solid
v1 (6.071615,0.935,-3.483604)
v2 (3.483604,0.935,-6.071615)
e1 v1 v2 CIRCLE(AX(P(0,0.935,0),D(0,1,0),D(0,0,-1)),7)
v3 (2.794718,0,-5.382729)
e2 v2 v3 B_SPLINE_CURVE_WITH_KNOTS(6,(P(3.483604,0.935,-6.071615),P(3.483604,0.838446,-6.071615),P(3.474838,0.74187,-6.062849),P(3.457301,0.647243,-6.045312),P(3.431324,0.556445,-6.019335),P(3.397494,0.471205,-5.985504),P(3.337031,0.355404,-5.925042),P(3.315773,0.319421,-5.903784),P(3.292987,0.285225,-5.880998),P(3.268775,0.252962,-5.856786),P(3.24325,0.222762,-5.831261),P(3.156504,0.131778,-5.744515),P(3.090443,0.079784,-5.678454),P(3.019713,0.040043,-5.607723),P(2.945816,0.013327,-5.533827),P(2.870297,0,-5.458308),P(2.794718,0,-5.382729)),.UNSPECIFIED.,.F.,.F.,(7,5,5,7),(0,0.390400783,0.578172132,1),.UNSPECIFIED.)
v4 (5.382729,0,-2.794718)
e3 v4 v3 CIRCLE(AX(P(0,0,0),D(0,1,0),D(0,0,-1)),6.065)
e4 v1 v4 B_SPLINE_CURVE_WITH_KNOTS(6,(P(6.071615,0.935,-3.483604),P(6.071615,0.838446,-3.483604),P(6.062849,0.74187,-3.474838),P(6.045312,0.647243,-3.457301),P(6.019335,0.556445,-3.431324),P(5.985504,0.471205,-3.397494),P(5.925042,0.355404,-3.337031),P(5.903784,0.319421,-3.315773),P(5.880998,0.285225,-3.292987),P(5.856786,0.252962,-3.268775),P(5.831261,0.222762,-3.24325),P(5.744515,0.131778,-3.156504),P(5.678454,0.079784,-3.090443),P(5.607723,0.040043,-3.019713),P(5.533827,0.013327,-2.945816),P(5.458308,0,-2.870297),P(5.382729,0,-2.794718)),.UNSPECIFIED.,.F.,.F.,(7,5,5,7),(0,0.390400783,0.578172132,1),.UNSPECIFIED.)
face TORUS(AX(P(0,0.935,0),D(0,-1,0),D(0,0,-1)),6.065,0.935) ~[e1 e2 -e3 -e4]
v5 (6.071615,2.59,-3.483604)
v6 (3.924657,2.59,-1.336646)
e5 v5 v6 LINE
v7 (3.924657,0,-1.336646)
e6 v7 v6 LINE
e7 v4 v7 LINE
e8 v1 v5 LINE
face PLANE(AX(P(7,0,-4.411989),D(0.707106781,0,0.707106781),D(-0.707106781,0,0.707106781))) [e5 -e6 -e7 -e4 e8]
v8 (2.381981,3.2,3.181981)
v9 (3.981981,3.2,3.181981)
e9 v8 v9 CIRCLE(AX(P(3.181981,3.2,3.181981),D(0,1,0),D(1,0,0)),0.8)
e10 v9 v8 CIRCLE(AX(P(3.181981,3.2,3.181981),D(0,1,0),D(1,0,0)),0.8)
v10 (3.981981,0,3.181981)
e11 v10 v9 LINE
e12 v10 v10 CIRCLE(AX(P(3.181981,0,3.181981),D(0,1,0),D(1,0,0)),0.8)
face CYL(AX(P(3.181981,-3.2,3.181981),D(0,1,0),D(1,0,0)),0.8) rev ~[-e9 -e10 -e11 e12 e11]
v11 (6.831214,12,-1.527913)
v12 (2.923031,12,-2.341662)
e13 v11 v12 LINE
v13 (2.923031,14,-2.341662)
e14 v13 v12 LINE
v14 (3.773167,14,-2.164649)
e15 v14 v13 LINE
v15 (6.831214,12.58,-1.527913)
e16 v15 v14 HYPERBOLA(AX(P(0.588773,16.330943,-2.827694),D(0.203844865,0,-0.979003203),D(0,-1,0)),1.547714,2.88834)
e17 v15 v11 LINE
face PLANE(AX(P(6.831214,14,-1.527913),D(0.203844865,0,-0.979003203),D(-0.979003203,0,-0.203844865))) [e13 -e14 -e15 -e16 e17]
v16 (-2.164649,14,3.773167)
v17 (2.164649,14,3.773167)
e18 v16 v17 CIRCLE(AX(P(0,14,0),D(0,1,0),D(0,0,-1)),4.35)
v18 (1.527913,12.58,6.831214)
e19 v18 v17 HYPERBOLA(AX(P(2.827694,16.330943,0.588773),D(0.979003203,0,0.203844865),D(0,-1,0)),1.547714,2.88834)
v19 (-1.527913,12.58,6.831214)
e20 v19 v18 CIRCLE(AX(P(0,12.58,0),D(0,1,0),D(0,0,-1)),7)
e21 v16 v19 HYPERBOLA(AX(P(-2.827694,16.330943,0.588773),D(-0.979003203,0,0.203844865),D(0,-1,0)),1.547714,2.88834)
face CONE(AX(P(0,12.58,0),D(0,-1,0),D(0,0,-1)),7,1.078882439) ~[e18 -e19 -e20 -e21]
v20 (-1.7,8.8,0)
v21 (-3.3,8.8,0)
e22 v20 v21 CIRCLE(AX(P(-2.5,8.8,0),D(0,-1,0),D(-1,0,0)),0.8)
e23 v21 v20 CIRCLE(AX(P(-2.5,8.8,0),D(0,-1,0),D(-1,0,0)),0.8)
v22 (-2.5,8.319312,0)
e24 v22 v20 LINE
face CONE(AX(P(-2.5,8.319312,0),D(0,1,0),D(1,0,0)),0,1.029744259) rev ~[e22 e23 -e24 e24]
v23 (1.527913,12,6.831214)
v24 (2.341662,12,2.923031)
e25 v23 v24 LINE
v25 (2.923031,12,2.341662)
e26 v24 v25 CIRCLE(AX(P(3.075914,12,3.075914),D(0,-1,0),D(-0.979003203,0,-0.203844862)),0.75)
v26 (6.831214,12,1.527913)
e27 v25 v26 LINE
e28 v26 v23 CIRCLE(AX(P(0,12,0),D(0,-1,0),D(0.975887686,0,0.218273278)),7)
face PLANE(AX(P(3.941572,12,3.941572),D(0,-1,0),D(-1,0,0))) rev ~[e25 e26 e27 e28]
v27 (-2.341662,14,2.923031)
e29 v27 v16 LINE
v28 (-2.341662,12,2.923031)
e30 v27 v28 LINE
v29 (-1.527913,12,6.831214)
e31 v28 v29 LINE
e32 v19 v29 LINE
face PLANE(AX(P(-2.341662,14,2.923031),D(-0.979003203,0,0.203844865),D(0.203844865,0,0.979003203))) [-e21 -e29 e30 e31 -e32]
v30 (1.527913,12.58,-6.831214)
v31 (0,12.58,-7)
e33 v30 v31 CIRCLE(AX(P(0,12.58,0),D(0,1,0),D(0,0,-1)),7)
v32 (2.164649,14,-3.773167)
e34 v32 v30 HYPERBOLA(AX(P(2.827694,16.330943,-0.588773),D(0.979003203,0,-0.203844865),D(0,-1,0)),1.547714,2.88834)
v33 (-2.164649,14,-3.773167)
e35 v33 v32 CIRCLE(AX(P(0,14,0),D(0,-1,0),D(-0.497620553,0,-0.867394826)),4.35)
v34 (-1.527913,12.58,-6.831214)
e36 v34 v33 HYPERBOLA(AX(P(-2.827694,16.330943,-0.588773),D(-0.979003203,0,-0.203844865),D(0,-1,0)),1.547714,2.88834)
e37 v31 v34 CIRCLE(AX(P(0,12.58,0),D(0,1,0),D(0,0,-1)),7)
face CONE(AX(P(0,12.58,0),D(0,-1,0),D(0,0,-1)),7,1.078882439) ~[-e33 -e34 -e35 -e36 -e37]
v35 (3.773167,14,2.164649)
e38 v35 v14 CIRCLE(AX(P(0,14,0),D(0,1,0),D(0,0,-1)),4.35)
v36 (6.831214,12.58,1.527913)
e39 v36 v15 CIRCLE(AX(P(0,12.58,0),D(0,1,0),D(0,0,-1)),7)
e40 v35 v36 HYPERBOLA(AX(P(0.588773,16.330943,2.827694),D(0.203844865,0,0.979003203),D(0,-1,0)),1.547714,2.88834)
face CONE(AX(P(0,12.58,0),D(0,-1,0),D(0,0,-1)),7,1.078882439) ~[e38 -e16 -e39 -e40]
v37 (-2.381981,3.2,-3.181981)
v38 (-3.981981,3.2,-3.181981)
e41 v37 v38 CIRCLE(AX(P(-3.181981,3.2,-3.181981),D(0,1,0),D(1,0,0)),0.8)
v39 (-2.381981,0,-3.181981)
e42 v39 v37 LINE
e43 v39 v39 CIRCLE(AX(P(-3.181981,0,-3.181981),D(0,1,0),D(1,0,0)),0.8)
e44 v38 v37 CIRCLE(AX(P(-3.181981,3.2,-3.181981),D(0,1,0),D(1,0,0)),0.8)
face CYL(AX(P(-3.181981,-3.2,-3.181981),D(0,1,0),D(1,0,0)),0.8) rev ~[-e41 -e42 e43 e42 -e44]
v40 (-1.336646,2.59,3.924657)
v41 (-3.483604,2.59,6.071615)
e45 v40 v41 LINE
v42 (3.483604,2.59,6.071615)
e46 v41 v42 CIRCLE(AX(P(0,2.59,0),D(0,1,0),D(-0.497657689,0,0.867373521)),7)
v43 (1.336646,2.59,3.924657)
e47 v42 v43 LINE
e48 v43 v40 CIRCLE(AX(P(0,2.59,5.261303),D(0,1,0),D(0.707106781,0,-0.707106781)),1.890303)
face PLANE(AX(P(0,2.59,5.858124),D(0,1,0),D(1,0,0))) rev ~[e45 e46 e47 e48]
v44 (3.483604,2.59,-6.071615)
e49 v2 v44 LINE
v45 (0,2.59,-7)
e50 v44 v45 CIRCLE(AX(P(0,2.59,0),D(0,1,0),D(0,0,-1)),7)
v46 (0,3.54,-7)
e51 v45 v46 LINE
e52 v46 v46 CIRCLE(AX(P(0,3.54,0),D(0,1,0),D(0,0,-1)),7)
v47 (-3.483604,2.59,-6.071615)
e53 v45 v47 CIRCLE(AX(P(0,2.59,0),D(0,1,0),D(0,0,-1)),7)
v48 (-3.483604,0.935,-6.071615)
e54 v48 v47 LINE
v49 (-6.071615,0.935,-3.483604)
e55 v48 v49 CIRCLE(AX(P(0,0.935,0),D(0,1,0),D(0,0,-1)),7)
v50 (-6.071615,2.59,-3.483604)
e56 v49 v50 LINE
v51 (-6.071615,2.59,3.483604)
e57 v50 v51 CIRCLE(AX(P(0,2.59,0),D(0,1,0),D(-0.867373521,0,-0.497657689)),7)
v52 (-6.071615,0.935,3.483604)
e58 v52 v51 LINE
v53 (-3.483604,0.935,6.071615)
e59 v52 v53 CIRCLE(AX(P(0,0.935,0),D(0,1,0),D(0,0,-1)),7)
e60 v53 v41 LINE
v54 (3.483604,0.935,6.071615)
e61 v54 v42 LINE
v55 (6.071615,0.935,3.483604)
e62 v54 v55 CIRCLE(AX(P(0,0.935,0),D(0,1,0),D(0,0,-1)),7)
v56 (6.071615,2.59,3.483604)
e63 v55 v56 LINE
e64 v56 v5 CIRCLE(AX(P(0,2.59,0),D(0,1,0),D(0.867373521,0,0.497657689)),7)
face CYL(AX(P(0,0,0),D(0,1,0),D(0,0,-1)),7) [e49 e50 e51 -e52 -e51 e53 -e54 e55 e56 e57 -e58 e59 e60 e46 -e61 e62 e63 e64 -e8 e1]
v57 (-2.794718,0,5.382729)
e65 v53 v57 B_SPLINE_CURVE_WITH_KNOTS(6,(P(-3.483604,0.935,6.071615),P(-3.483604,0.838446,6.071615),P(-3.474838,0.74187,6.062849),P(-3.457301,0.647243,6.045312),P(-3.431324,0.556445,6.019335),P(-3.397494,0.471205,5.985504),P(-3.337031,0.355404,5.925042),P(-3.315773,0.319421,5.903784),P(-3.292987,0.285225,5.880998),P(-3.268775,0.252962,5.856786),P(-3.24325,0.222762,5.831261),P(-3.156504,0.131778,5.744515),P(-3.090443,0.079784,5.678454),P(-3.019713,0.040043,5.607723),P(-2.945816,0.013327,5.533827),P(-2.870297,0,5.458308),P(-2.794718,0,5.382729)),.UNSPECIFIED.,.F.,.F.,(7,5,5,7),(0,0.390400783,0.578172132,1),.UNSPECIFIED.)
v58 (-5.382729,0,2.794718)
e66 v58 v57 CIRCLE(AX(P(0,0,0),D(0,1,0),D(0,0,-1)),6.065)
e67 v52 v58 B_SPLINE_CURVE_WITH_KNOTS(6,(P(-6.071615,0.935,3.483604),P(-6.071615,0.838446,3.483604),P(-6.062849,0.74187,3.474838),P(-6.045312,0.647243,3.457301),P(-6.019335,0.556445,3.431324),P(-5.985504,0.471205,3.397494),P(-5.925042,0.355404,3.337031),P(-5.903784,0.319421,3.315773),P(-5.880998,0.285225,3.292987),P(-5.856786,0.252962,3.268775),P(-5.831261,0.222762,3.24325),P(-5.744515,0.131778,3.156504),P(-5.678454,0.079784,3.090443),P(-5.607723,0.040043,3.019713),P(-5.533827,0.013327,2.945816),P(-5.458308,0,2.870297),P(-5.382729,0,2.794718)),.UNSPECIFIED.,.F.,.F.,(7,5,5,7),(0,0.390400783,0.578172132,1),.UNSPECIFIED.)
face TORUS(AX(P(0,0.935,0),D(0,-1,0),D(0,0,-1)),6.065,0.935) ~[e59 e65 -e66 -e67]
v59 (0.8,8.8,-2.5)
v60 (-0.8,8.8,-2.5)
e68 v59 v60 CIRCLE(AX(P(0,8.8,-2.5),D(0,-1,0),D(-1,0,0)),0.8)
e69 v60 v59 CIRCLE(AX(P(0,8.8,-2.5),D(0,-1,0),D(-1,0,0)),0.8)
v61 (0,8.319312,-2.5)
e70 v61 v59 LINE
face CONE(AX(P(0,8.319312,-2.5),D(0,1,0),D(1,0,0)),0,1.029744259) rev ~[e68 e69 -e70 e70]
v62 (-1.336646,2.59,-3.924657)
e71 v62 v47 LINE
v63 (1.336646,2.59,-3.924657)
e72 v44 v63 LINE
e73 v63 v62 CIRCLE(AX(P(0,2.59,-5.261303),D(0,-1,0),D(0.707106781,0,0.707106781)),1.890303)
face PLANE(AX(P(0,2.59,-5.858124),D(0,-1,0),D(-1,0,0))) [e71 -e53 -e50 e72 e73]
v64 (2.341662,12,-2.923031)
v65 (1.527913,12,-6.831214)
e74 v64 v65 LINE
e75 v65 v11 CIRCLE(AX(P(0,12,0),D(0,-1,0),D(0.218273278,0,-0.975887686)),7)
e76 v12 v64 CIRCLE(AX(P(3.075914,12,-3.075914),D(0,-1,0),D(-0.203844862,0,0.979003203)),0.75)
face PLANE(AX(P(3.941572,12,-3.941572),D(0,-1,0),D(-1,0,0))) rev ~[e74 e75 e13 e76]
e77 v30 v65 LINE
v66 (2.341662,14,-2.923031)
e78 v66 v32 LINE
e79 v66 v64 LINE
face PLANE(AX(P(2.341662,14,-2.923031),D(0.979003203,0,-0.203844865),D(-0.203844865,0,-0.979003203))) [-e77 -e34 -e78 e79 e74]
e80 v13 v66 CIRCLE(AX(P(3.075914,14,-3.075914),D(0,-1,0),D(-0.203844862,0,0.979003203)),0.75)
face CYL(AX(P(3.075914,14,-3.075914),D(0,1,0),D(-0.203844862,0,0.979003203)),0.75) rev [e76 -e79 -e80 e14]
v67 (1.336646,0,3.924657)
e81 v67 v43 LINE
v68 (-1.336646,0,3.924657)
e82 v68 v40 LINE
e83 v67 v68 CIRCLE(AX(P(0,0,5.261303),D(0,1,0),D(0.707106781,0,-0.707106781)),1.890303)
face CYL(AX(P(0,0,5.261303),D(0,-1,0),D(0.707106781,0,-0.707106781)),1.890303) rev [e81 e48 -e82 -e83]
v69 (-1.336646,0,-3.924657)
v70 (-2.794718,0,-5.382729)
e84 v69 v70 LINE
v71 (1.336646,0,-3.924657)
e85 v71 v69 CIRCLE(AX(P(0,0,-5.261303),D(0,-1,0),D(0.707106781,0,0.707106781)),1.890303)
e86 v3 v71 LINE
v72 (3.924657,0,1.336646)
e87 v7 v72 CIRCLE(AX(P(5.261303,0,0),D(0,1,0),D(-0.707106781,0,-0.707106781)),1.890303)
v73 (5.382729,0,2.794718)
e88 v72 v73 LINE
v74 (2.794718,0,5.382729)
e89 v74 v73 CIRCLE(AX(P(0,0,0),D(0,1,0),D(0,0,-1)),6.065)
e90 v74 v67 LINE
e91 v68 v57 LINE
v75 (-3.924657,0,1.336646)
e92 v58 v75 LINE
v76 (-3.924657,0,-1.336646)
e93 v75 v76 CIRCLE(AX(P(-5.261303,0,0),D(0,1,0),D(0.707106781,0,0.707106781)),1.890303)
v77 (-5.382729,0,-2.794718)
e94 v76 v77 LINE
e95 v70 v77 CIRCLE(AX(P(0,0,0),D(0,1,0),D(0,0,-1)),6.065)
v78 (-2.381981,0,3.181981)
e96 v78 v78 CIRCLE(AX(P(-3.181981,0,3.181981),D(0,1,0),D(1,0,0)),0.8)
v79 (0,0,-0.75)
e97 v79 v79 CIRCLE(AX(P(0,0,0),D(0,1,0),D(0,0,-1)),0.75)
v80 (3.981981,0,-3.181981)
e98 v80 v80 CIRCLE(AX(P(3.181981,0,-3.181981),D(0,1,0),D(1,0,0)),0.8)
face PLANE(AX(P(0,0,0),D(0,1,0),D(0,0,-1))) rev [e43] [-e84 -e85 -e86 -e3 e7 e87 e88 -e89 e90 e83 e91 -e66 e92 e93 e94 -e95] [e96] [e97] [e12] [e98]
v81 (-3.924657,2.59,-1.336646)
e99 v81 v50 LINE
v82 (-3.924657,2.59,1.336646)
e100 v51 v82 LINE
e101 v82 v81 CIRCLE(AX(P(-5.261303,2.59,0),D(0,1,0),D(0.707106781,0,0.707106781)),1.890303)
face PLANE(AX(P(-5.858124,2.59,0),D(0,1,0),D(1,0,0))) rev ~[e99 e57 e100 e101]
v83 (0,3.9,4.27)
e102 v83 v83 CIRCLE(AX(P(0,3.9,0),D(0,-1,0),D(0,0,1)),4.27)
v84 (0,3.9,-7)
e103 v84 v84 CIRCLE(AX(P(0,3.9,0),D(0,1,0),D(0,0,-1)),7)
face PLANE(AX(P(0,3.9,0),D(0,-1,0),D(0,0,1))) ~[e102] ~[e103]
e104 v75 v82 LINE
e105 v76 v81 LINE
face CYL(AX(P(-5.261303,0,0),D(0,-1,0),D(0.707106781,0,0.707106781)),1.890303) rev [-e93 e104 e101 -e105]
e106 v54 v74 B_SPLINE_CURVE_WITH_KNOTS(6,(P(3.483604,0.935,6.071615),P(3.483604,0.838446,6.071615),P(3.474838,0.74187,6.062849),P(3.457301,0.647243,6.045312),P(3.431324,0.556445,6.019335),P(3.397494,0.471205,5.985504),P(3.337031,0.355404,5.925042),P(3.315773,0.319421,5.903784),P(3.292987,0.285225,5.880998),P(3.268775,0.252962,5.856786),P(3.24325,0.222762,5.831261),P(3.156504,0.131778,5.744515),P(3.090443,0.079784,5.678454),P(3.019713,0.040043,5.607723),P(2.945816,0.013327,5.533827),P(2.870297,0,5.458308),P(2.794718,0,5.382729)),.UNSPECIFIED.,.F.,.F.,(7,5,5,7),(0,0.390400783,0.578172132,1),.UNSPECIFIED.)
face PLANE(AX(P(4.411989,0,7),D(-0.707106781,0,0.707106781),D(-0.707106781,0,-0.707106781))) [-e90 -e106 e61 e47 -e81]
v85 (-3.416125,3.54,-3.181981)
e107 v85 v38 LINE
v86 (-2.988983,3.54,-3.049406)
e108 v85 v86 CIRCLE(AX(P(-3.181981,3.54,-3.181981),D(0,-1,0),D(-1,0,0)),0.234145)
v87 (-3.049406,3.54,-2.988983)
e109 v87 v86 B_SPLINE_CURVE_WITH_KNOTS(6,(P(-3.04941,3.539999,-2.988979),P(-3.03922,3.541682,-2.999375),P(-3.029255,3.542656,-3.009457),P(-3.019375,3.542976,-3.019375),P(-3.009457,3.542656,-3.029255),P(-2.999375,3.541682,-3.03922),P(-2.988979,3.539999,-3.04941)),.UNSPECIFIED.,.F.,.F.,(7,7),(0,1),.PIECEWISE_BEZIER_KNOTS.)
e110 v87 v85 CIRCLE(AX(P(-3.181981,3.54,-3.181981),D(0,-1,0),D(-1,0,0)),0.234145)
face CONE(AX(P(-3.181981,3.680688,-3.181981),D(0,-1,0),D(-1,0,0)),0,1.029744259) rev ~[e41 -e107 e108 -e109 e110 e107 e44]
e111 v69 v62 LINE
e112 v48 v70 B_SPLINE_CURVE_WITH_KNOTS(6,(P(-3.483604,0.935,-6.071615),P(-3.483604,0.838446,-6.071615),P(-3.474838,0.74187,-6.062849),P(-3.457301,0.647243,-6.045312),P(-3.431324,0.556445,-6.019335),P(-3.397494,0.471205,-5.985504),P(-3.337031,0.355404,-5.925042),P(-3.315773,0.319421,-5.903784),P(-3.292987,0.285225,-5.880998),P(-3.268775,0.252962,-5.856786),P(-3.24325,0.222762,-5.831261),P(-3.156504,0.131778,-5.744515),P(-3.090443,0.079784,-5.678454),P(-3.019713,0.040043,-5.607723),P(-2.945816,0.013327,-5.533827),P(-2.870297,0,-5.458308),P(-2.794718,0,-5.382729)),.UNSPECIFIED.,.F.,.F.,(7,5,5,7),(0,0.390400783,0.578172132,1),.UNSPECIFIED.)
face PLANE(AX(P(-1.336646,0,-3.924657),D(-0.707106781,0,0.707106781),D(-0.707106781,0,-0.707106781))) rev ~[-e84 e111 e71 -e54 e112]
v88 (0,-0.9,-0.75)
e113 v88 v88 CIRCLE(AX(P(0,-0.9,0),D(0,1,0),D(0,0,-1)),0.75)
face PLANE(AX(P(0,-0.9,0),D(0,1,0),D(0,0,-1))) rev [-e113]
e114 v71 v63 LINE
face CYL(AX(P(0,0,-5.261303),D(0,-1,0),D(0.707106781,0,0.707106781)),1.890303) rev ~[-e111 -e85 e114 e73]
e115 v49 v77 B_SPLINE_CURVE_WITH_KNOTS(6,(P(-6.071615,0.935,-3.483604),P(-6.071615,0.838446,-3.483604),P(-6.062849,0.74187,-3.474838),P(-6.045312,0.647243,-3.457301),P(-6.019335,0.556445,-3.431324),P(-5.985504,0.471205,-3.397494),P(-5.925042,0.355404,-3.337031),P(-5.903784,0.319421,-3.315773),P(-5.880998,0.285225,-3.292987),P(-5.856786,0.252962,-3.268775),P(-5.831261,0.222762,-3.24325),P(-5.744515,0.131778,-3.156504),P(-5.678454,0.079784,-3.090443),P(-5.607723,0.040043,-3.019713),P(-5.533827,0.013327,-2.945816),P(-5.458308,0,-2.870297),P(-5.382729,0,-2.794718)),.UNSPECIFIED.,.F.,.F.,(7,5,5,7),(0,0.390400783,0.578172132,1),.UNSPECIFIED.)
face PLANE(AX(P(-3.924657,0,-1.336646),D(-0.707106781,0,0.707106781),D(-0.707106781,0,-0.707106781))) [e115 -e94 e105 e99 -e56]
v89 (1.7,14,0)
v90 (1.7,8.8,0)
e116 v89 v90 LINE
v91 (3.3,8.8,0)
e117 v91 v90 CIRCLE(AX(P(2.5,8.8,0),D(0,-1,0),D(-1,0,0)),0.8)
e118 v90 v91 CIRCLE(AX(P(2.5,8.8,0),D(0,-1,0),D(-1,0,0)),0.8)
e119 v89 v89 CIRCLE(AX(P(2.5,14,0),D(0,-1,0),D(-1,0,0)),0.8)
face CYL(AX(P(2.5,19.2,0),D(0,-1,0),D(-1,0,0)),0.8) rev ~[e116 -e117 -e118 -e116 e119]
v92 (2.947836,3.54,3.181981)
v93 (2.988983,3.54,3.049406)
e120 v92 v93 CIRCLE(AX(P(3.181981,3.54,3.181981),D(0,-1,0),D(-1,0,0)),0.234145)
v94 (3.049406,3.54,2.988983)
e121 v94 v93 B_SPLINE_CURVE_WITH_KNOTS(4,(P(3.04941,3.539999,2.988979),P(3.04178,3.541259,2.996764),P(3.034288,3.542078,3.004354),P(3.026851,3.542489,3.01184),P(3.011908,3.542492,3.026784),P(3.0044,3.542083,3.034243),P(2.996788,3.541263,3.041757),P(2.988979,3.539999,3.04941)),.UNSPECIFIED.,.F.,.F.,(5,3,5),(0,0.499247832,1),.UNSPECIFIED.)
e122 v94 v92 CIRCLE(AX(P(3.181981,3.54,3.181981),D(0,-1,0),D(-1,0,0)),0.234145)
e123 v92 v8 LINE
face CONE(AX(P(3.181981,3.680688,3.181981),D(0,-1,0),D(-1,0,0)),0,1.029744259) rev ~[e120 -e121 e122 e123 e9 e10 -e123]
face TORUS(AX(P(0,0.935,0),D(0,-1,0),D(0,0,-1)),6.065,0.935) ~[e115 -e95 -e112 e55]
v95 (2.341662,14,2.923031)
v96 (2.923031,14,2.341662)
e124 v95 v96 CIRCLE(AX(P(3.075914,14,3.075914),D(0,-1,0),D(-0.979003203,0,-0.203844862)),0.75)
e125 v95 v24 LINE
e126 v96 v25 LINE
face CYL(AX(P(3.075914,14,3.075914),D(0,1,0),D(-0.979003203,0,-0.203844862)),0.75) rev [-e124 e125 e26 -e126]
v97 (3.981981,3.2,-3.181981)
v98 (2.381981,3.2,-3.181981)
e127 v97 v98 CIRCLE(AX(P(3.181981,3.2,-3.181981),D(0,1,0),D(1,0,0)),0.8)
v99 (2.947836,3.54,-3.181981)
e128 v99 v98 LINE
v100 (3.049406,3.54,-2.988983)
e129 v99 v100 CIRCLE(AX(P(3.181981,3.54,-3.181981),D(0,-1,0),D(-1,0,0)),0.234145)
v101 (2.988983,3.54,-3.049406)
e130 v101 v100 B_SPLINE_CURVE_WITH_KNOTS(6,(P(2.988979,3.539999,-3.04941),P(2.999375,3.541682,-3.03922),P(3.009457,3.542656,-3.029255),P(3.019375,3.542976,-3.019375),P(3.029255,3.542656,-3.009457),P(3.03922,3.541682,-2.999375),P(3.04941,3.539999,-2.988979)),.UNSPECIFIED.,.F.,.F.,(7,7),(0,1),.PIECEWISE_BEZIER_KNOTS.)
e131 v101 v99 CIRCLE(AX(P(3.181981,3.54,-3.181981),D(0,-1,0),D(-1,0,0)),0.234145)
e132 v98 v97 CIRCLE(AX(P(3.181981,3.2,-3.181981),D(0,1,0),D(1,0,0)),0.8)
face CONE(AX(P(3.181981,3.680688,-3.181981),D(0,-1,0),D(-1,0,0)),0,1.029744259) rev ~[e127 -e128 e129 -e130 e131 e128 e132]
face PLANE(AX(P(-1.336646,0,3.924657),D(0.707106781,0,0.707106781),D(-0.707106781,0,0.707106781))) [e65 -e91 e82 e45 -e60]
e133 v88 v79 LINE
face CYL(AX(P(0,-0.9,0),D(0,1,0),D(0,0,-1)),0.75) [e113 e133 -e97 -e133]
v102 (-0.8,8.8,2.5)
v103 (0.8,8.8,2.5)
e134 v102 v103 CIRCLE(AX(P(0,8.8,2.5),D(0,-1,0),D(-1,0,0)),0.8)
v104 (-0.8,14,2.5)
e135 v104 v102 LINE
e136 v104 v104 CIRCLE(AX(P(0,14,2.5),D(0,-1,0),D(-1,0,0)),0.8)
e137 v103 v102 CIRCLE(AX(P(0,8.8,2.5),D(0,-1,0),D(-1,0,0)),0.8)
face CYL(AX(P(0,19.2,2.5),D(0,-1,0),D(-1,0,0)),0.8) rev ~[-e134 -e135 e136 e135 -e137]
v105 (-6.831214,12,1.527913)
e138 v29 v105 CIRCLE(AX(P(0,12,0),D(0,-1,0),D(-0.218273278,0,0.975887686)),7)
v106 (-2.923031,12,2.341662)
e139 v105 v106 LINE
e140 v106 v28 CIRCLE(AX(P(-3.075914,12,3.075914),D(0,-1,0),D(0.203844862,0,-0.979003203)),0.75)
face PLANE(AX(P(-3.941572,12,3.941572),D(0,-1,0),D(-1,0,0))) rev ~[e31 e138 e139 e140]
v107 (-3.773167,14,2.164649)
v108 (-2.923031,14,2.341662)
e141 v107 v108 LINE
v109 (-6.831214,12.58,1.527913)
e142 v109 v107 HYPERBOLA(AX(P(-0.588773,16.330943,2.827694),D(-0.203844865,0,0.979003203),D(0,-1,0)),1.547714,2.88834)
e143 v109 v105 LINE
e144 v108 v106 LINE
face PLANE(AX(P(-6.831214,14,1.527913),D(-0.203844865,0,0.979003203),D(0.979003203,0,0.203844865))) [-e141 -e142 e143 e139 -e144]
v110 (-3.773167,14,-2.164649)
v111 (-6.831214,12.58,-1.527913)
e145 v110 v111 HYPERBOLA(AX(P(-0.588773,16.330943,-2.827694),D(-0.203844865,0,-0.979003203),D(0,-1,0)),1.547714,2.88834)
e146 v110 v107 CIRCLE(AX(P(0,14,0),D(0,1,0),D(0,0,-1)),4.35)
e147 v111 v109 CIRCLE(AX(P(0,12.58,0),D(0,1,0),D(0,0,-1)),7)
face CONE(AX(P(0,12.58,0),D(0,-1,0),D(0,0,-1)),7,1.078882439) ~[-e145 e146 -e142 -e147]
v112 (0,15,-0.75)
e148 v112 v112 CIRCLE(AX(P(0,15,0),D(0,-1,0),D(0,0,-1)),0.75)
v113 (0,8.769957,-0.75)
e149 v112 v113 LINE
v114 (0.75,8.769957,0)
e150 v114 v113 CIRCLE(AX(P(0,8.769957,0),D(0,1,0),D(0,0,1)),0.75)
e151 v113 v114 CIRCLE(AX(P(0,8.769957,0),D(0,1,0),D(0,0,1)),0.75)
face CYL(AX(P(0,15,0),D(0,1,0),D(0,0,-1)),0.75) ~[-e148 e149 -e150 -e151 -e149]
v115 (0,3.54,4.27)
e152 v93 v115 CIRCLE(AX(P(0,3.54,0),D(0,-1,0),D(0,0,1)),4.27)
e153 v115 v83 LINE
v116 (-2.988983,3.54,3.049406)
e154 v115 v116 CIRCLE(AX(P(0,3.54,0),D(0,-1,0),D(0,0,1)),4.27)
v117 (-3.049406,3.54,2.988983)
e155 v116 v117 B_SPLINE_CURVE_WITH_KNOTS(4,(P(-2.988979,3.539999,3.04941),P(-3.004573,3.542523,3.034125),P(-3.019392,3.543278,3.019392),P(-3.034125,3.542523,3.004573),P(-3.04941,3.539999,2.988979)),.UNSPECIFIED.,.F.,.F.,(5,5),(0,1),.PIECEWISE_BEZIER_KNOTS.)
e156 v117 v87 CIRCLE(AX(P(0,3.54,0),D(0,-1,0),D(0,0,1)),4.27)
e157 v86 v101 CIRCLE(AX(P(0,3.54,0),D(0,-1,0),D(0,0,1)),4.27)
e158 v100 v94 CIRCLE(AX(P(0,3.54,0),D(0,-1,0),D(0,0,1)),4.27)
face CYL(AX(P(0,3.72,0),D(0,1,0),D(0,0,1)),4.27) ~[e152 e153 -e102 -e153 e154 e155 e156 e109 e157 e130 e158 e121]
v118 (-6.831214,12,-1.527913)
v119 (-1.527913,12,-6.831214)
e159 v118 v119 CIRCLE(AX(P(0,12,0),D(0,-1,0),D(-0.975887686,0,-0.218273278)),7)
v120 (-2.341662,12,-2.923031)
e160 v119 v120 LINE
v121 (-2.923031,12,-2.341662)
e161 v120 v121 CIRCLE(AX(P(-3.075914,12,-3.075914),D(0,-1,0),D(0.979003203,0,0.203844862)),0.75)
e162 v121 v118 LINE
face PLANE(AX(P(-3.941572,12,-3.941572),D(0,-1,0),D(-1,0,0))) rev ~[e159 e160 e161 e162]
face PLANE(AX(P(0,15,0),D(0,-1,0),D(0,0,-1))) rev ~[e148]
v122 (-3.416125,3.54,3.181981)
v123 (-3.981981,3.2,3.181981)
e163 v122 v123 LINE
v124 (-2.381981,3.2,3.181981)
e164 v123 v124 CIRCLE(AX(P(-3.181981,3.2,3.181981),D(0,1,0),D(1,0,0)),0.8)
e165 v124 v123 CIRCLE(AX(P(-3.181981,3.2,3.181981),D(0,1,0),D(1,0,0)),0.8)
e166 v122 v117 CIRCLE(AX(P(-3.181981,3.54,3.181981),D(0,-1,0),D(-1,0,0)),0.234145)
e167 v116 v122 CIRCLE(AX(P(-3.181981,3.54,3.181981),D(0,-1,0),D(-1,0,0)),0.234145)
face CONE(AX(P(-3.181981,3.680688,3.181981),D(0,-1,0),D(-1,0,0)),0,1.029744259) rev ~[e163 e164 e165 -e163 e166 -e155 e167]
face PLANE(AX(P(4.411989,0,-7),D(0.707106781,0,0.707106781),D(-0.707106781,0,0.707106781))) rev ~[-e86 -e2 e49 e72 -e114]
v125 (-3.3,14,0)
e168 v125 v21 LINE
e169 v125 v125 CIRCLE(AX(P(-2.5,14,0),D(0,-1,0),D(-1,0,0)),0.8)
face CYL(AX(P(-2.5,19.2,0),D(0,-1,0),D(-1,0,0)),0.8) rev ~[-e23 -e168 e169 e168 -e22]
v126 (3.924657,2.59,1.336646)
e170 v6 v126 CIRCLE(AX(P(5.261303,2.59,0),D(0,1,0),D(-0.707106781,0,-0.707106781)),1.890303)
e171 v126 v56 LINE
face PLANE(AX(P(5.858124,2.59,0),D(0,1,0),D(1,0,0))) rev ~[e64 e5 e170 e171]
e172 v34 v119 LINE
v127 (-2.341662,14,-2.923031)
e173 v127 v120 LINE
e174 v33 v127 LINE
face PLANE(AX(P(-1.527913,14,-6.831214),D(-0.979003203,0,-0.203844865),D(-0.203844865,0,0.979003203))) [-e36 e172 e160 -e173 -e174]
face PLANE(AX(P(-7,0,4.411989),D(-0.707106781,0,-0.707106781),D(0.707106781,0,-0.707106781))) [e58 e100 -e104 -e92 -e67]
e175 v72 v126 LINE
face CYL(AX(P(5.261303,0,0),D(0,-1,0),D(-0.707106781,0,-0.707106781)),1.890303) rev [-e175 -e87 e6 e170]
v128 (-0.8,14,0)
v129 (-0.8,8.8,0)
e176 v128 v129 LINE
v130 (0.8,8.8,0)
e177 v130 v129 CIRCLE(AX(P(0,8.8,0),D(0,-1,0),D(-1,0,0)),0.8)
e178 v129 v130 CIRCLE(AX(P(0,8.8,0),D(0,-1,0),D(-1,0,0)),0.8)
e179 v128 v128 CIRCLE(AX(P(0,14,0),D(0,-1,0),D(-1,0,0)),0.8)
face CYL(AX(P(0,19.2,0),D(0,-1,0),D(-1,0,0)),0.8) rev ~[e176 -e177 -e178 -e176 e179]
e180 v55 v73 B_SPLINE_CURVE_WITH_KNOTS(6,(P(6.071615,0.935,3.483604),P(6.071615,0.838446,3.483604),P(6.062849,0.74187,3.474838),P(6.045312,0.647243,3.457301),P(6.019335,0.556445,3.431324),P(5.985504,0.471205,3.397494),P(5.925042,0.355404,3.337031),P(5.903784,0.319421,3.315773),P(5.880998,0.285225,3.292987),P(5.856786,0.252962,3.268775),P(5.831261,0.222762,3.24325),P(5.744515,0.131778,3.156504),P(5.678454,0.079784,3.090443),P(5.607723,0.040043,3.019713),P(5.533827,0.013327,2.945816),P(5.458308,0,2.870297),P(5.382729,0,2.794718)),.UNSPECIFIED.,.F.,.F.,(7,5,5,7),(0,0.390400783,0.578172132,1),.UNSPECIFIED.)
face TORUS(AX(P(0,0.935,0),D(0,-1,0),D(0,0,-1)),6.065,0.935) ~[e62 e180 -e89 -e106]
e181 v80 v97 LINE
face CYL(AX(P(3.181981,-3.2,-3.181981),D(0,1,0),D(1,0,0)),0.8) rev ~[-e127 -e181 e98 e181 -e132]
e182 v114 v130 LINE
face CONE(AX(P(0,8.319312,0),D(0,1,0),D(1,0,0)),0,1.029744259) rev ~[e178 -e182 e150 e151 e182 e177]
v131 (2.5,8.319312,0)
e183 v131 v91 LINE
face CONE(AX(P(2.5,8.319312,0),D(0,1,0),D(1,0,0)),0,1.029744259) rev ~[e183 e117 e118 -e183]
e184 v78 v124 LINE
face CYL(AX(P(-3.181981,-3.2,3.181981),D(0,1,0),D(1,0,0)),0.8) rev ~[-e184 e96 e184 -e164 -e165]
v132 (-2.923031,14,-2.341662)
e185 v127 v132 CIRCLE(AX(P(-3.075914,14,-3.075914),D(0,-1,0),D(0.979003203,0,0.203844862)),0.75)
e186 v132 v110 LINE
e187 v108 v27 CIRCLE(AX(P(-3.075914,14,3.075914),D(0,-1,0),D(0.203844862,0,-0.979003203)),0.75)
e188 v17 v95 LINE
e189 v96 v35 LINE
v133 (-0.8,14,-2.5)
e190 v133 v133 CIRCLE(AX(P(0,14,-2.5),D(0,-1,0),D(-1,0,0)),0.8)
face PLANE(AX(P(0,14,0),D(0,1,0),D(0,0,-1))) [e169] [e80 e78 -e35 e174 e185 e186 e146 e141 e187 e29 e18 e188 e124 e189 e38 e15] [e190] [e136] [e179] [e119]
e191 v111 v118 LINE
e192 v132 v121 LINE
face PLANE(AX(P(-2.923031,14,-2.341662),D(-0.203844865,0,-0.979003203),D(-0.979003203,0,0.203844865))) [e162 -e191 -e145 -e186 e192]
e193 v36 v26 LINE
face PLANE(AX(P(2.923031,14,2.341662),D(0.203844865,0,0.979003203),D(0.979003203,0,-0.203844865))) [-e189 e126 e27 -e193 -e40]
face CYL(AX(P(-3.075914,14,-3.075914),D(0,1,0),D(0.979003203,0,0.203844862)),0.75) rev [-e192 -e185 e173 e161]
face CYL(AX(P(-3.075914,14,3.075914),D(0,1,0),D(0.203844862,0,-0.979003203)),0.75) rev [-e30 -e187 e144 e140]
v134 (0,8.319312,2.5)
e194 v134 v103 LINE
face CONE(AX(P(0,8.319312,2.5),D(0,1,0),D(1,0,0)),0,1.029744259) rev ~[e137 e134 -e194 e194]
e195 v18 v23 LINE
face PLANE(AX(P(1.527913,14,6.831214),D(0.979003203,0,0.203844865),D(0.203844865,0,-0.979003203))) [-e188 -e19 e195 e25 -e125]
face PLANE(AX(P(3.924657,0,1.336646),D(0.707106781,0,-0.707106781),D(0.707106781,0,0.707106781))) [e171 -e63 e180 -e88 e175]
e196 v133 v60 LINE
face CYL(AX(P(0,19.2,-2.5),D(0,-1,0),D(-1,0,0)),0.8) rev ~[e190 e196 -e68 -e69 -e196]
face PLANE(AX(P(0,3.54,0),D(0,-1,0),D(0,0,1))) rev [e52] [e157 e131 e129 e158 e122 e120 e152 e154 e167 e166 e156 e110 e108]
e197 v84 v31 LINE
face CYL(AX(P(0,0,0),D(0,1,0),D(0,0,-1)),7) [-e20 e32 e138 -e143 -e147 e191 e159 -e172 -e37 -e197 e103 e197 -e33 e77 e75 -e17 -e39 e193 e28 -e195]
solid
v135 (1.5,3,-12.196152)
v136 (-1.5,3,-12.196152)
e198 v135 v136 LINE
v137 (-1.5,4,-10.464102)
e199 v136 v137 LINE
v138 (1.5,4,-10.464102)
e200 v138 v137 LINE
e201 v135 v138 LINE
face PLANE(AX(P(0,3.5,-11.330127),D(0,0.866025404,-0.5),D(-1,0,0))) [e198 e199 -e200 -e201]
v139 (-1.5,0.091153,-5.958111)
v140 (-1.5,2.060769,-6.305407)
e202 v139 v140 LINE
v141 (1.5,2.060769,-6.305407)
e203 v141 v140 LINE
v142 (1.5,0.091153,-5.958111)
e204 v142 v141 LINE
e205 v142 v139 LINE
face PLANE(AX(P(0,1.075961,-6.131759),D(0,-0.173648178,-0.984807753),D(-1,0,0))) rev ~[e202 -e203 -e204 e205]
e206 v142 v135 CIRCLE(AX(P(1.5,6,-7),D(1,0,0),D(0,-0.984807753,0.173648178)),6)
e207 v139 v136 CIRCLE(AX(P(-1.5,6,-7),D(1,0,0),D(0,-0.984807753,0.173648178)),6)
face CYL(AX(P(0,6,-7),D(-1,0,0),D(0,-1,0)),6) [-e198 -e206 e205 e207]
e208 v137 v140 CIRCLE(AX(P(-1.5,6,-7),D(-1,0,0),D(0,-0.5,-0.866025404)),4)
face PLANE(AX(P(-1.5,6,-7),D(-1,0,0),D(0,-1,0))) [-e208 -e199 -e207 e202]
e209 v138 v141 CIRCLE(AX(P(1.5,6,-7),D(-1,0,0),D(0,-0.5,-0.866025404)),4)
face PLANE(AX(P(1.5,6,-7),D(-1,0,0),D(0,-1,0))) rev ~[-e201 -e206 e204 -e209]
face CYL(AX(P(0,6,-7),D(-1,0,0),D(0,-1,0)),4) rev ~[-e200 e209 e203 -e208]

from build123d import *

# Parameters (mm, degrees)
M2X0_4_TAPPED_HOLE1_D     = 1.6
M2X0_4_TAPPED_HOLE1_DEPTH = 3.2
M2X0_4_TAPPED_HOLE1_TIP   = 0.480688495
M2X0_4_TAPPED_HOLE2_D     = 1.6
M2X0_4_TAPPED_HOLE2_DEPTH = 5.2
M2X0_4_TAPPED_HOLE2_TIP   = 0.480688495
CHAMFER1_SIZE             = 2.65
CHAMFER1_SIZE2            = 1.42
FILLET1_R                 = 0.935
CUT_EXTRUDE1_DEPTH        = 2.59
SKETCH13_W                = 9.661742765
SKETCH13_H                = 0.36
SKETCH7_W                 = 3
SKETCH7_H                 = 2
REVOLVE3_ANGLE            = 60
REVOLVE3_OTHER_WAY_ANGLE  = 10
CUT_EXTRUDE2_DEPTH        = 2
BOSS_EXTRUDE2_START       = -15.9
SKETCH15_R                = 0.75
BOSS_EXTRUDE2_DEPTH       = 15.9


with BuildPart() as part:
    # Sketch1 → Revolve1 (revolve)
    with BuildSketch(Plane.XY, mode=Mode.PRIVATE) as revolve1_sk:
        Polygon((-0.75, 0), (-7, 0), (-7, 14), (-0.75, 14), (-0.75, 16.6), (0, 16.6), (0, -0.9), (-0.75, -0.9), align=None)
    revolve(revolve1_sk.sketch.rotate(Axis((0, -74.460023863, 0), (0, 1, 0)), 270), axis=Axis((0, -74.460023863, 0), (0, 1, 0)))

    # M2x0.4 Tapped Hole1
    with Locations(Plane(origin=(0, 0, 0), x_dir=(-1, 0, 0), z_dir=(0, -1, 0))):
        with Locations((3.181980515, -3.181980515), (-3.181980515, -3.181980515), (-3.181980515, 3.181980515), (3.181980515, 3.181980515)):
            Hole(M2X0_4_TAPPED_HOLE1_D / 2, depth=M2X0_4_TAPPED_HOLE1_DEPTH)
            with Locations((0, 0, -(M2X0_4_TAPPED_HOLE1_DEPTH + M2X0_4_TAPPED_HOLE1_TIP / 2))):  # 118° drill point
                Cone(0, M2X0_4_TAPPED_HOLE1_D / 2, M2X0_4_TAPPED_HOLE1_TIP, mode=Mode.SUBTRACT)

    # M2x0.4 Tapped Hole2
    with Locations(Plane(origin=(0, 14, 0), x_dir=(1, 0, 0), z_dir=(0, 1, 0))):
        with Locations((0, 2.5), (2.5, 0), (0, -2.5), (-2.5, 0), (0, 0)):
            Hole(M2X0_4_TAPPED_HOLE2_D / 2, depth=M2X0_4_TAPPED_HOLE2_DEPTH)
            with Locations((0, 0, -(M2X0_4_TAPPED_HOLE2_DEPTH + M2X0_4_TAPPED_HOLE2_TIP / 2))):  # 118° drill point
                Cone(0, M2X0_4_TAPPED_HOLE2_D / 2, M2X0_4_TAPPED_HOLE2_TIP, mode=Mode.SUBTRACT)

    # Chamfer1
    chamfer1_edges = [part.edges().sort_by_distance(p)[0] for p in [
        (0, 14, 7),
    ]]
    chamfer1_side = [part.faces().sort_by_distance(p)[0] for p in [
        (0, 14, 6.802010101),
    ]]
    chamfer(chamfer1_edges, length=CHAMFER1_SIZE, length2=CHAMFER1_SIZE2, reference=chamfer1_side[0])

    # Fillet1
    fillet1_edges = [part.edges().sort_by_distance(p)[0] for p in [
        (0, 0, 7),
    ]]
    fillet(fillet1_edges, radius=FILLET1_R)

    # Sketch10 → Cut-Extrude1 (cut)
    with BuildSketch(Plane(origin=(0, 0, 0), x_dir=(-1, 0, 0), z_dir=(0, -1, 0))):
        with BuildLine():
            Line((1.33664614, 3.924656959), (4.411989181, 7))
            Line((4.411989181, 7), (-4.411989181, 7))
            Line((-4.411989181, 7), (-1.33664614, 3.924656959))
            ThreePointArc((-1.33664614, 3.924656959), (0, 3.371), (1.33664614, 3.924656959))
        make_face()
        with BuildLine():
            Line((3.924656959, 1.33664614), (7, 4.411989181))
            Line((7, 4.411989181), (7, -4.411989181))
            Line((7, -4.411989181), (3.924656959, -1.33664614))
            ThreePointArc((3.924656959, -1.33664614), (3.371, 0), (3.924656959, 1.33664614))
        make_face()
        with BuildLine():
            Line((1.33664614, -3.924656959), (4.411989181, -7))
            Line((4.411989181, -7), (-4.411989181, -7))
            Line((-4.411989181, -7), (-1.33664614, -3.924656959))
            ThreePointArc((-1.33664614, -3.924656959), (0, -3.371), (1.33664614, -3.924656959))
        make_face()
        with BuildLine():
            Line((-3.924656959, -1.33664614), (-7, -4.411989181))
            Line((-7, -4.411989181), (-7, 4.411989181))
            Line((-7, 4.411989181), (-3.924656959, 1.33664614))
            ThreePointArc((-3.924656959, 1.33664614), (-3.371, 0), (-3.924656959, -1.33664614))
        make_face()
    extrude(amount=-CUT_EXTRUDE1_DEPTH, mode=Mode.SUBTRACT)

    # Sketch13 → Cut-Revolve1 (revolve, cut)
    with BuildSketch(Plane.XY, mode=Mode.PRIVATE) as cut_revolve1_sk:
        with Locations((9.100871383, 3.72)):
            Rectangle(SKETCH13_W, SKETCH13_H)
    revolve(cut_revolve1_sk.sketch.rotate(Axis((0, 7.126821905, 0), (0, -1, 0)), 90), axis=Axis((0, 7.126821905, 0), (0, -1, 0)), mode=Mode.SUBTRACT)

    # Sketch14 → Cut-Extrude2 (cut)
    with BuildSketch(Plane(origin=(0, 14, 0), x_dir=(1, 0, 0), z_dir=(0, 1, 0))):
        with BuildLine():
            Line((-2.341662096, -2.92303085), (-1.527912945, -6.831213804))
            ThreePointArc((-1.527912945, -6.831213804), (-4.949747468, -4.949747468), (-6.831213804, -1.527912945))
            Line((-6.831213804, -1.527912945), (-2.92303085, -2.341662096))
            ThreePointArc((-2.92303085, -2.341662096), (-2.545584412, -2.545584412), (-2.341662096, -2.92303085))
        make_face()
        with BuildLine():
            Line((2.92303085, -2.341662096), (6.831213804, -1.527912945))
            ThreePointArc((6.831213804, -1.527912945), (4.949747468, -4.949747468), (1.527912945, -6.831213804))
            Line((1.527912945, -6.831213804), (2.341662096, -2.92303085))
            ThreePointArc((2.341662096, -2.92303085), (2.545584412, -2.545584412), (2.92303085, -2.341662096))
        make_face()
        with BuildLine():
            Line((-2.92303085, 2.341662096), (-6.831213804, 1.527912945))
            ThreePointArc((-6.831213804, 1.527912945), (-4.949747468, 4.949747468), (-1.527912945, 6.831213804))
            Line((-1.527912945, 6.831213804), (-2.341662096, 2.92303085))
            ThreePointArc((-2.341662096, 2.92303085), (-2.545584412, 2.545584412), (-2.92303085, 2.341662096))
        make_face()
        with BuildLine():
            Line((2.341662096, 2.92303085), (1.527912945, 6.831213804))
            ThreePointArc((1.527912945, 6.831213804), (4.949747468, 4.949747468), (6.831213804, 1.527912945))
            Line((6.831213804, 1.527912945), (2.92303085, 2.341662096))
            ThreePointArc((2.92303085, 2.341662096), (2.545584412, 2.545584412), (2.341662096, 2.92303085))
        make_face()
    extrude(amount=-CUT_EXTRUDE2_DEPTH, mode=Mode.SUBTRACT)

    # Sketch15 → Boss-Extrude2 (add)
    with BuildSketch(Plane.XZ.offset(0.9).offset(BOSS_EXTRUDE2_START)):
        with Locations(Location((0, 0, 0), (0, 0, 270))):
            Circle(SKETCH15_R)
    extrude(amount=BOSS_EXTRUDE2_DEPTH)


with BuildPart() as body_2:
    # Sketch7 → Revolve3 (revolve)
    with BuildSketch(Plane(origin=(0, 0, -7), x_dir=(-1, 0, 0), z_dir=(0, 0, -1))):
        with Locations((0, 1)):
            Rectangle(SKETCH7_W, SKETCH7_H)
    revolve(axis=Axis((-7, 6, -7), (1, 0, 0)), revolution_arc=REVOLVE3_ANGLE)

    # Sketch7 → Revolve3 other way (revolve)
    with BuildSketch(Plane(origin=(0, 0, -7), x_dir=(-1, 0, 0), z_dir=(0, 0, -1))):
        with Locations((0, 1)):
            Rectangle(SKETCH7_W, SKETCH7_H)
    revolve(axis=Axis((-7, 6, -7), (-1, 0, 0)), revolution_arc=REVOLVE3_OTHER_WAY_ANGLE)


solid = Compound([part.part, body_2.part])
